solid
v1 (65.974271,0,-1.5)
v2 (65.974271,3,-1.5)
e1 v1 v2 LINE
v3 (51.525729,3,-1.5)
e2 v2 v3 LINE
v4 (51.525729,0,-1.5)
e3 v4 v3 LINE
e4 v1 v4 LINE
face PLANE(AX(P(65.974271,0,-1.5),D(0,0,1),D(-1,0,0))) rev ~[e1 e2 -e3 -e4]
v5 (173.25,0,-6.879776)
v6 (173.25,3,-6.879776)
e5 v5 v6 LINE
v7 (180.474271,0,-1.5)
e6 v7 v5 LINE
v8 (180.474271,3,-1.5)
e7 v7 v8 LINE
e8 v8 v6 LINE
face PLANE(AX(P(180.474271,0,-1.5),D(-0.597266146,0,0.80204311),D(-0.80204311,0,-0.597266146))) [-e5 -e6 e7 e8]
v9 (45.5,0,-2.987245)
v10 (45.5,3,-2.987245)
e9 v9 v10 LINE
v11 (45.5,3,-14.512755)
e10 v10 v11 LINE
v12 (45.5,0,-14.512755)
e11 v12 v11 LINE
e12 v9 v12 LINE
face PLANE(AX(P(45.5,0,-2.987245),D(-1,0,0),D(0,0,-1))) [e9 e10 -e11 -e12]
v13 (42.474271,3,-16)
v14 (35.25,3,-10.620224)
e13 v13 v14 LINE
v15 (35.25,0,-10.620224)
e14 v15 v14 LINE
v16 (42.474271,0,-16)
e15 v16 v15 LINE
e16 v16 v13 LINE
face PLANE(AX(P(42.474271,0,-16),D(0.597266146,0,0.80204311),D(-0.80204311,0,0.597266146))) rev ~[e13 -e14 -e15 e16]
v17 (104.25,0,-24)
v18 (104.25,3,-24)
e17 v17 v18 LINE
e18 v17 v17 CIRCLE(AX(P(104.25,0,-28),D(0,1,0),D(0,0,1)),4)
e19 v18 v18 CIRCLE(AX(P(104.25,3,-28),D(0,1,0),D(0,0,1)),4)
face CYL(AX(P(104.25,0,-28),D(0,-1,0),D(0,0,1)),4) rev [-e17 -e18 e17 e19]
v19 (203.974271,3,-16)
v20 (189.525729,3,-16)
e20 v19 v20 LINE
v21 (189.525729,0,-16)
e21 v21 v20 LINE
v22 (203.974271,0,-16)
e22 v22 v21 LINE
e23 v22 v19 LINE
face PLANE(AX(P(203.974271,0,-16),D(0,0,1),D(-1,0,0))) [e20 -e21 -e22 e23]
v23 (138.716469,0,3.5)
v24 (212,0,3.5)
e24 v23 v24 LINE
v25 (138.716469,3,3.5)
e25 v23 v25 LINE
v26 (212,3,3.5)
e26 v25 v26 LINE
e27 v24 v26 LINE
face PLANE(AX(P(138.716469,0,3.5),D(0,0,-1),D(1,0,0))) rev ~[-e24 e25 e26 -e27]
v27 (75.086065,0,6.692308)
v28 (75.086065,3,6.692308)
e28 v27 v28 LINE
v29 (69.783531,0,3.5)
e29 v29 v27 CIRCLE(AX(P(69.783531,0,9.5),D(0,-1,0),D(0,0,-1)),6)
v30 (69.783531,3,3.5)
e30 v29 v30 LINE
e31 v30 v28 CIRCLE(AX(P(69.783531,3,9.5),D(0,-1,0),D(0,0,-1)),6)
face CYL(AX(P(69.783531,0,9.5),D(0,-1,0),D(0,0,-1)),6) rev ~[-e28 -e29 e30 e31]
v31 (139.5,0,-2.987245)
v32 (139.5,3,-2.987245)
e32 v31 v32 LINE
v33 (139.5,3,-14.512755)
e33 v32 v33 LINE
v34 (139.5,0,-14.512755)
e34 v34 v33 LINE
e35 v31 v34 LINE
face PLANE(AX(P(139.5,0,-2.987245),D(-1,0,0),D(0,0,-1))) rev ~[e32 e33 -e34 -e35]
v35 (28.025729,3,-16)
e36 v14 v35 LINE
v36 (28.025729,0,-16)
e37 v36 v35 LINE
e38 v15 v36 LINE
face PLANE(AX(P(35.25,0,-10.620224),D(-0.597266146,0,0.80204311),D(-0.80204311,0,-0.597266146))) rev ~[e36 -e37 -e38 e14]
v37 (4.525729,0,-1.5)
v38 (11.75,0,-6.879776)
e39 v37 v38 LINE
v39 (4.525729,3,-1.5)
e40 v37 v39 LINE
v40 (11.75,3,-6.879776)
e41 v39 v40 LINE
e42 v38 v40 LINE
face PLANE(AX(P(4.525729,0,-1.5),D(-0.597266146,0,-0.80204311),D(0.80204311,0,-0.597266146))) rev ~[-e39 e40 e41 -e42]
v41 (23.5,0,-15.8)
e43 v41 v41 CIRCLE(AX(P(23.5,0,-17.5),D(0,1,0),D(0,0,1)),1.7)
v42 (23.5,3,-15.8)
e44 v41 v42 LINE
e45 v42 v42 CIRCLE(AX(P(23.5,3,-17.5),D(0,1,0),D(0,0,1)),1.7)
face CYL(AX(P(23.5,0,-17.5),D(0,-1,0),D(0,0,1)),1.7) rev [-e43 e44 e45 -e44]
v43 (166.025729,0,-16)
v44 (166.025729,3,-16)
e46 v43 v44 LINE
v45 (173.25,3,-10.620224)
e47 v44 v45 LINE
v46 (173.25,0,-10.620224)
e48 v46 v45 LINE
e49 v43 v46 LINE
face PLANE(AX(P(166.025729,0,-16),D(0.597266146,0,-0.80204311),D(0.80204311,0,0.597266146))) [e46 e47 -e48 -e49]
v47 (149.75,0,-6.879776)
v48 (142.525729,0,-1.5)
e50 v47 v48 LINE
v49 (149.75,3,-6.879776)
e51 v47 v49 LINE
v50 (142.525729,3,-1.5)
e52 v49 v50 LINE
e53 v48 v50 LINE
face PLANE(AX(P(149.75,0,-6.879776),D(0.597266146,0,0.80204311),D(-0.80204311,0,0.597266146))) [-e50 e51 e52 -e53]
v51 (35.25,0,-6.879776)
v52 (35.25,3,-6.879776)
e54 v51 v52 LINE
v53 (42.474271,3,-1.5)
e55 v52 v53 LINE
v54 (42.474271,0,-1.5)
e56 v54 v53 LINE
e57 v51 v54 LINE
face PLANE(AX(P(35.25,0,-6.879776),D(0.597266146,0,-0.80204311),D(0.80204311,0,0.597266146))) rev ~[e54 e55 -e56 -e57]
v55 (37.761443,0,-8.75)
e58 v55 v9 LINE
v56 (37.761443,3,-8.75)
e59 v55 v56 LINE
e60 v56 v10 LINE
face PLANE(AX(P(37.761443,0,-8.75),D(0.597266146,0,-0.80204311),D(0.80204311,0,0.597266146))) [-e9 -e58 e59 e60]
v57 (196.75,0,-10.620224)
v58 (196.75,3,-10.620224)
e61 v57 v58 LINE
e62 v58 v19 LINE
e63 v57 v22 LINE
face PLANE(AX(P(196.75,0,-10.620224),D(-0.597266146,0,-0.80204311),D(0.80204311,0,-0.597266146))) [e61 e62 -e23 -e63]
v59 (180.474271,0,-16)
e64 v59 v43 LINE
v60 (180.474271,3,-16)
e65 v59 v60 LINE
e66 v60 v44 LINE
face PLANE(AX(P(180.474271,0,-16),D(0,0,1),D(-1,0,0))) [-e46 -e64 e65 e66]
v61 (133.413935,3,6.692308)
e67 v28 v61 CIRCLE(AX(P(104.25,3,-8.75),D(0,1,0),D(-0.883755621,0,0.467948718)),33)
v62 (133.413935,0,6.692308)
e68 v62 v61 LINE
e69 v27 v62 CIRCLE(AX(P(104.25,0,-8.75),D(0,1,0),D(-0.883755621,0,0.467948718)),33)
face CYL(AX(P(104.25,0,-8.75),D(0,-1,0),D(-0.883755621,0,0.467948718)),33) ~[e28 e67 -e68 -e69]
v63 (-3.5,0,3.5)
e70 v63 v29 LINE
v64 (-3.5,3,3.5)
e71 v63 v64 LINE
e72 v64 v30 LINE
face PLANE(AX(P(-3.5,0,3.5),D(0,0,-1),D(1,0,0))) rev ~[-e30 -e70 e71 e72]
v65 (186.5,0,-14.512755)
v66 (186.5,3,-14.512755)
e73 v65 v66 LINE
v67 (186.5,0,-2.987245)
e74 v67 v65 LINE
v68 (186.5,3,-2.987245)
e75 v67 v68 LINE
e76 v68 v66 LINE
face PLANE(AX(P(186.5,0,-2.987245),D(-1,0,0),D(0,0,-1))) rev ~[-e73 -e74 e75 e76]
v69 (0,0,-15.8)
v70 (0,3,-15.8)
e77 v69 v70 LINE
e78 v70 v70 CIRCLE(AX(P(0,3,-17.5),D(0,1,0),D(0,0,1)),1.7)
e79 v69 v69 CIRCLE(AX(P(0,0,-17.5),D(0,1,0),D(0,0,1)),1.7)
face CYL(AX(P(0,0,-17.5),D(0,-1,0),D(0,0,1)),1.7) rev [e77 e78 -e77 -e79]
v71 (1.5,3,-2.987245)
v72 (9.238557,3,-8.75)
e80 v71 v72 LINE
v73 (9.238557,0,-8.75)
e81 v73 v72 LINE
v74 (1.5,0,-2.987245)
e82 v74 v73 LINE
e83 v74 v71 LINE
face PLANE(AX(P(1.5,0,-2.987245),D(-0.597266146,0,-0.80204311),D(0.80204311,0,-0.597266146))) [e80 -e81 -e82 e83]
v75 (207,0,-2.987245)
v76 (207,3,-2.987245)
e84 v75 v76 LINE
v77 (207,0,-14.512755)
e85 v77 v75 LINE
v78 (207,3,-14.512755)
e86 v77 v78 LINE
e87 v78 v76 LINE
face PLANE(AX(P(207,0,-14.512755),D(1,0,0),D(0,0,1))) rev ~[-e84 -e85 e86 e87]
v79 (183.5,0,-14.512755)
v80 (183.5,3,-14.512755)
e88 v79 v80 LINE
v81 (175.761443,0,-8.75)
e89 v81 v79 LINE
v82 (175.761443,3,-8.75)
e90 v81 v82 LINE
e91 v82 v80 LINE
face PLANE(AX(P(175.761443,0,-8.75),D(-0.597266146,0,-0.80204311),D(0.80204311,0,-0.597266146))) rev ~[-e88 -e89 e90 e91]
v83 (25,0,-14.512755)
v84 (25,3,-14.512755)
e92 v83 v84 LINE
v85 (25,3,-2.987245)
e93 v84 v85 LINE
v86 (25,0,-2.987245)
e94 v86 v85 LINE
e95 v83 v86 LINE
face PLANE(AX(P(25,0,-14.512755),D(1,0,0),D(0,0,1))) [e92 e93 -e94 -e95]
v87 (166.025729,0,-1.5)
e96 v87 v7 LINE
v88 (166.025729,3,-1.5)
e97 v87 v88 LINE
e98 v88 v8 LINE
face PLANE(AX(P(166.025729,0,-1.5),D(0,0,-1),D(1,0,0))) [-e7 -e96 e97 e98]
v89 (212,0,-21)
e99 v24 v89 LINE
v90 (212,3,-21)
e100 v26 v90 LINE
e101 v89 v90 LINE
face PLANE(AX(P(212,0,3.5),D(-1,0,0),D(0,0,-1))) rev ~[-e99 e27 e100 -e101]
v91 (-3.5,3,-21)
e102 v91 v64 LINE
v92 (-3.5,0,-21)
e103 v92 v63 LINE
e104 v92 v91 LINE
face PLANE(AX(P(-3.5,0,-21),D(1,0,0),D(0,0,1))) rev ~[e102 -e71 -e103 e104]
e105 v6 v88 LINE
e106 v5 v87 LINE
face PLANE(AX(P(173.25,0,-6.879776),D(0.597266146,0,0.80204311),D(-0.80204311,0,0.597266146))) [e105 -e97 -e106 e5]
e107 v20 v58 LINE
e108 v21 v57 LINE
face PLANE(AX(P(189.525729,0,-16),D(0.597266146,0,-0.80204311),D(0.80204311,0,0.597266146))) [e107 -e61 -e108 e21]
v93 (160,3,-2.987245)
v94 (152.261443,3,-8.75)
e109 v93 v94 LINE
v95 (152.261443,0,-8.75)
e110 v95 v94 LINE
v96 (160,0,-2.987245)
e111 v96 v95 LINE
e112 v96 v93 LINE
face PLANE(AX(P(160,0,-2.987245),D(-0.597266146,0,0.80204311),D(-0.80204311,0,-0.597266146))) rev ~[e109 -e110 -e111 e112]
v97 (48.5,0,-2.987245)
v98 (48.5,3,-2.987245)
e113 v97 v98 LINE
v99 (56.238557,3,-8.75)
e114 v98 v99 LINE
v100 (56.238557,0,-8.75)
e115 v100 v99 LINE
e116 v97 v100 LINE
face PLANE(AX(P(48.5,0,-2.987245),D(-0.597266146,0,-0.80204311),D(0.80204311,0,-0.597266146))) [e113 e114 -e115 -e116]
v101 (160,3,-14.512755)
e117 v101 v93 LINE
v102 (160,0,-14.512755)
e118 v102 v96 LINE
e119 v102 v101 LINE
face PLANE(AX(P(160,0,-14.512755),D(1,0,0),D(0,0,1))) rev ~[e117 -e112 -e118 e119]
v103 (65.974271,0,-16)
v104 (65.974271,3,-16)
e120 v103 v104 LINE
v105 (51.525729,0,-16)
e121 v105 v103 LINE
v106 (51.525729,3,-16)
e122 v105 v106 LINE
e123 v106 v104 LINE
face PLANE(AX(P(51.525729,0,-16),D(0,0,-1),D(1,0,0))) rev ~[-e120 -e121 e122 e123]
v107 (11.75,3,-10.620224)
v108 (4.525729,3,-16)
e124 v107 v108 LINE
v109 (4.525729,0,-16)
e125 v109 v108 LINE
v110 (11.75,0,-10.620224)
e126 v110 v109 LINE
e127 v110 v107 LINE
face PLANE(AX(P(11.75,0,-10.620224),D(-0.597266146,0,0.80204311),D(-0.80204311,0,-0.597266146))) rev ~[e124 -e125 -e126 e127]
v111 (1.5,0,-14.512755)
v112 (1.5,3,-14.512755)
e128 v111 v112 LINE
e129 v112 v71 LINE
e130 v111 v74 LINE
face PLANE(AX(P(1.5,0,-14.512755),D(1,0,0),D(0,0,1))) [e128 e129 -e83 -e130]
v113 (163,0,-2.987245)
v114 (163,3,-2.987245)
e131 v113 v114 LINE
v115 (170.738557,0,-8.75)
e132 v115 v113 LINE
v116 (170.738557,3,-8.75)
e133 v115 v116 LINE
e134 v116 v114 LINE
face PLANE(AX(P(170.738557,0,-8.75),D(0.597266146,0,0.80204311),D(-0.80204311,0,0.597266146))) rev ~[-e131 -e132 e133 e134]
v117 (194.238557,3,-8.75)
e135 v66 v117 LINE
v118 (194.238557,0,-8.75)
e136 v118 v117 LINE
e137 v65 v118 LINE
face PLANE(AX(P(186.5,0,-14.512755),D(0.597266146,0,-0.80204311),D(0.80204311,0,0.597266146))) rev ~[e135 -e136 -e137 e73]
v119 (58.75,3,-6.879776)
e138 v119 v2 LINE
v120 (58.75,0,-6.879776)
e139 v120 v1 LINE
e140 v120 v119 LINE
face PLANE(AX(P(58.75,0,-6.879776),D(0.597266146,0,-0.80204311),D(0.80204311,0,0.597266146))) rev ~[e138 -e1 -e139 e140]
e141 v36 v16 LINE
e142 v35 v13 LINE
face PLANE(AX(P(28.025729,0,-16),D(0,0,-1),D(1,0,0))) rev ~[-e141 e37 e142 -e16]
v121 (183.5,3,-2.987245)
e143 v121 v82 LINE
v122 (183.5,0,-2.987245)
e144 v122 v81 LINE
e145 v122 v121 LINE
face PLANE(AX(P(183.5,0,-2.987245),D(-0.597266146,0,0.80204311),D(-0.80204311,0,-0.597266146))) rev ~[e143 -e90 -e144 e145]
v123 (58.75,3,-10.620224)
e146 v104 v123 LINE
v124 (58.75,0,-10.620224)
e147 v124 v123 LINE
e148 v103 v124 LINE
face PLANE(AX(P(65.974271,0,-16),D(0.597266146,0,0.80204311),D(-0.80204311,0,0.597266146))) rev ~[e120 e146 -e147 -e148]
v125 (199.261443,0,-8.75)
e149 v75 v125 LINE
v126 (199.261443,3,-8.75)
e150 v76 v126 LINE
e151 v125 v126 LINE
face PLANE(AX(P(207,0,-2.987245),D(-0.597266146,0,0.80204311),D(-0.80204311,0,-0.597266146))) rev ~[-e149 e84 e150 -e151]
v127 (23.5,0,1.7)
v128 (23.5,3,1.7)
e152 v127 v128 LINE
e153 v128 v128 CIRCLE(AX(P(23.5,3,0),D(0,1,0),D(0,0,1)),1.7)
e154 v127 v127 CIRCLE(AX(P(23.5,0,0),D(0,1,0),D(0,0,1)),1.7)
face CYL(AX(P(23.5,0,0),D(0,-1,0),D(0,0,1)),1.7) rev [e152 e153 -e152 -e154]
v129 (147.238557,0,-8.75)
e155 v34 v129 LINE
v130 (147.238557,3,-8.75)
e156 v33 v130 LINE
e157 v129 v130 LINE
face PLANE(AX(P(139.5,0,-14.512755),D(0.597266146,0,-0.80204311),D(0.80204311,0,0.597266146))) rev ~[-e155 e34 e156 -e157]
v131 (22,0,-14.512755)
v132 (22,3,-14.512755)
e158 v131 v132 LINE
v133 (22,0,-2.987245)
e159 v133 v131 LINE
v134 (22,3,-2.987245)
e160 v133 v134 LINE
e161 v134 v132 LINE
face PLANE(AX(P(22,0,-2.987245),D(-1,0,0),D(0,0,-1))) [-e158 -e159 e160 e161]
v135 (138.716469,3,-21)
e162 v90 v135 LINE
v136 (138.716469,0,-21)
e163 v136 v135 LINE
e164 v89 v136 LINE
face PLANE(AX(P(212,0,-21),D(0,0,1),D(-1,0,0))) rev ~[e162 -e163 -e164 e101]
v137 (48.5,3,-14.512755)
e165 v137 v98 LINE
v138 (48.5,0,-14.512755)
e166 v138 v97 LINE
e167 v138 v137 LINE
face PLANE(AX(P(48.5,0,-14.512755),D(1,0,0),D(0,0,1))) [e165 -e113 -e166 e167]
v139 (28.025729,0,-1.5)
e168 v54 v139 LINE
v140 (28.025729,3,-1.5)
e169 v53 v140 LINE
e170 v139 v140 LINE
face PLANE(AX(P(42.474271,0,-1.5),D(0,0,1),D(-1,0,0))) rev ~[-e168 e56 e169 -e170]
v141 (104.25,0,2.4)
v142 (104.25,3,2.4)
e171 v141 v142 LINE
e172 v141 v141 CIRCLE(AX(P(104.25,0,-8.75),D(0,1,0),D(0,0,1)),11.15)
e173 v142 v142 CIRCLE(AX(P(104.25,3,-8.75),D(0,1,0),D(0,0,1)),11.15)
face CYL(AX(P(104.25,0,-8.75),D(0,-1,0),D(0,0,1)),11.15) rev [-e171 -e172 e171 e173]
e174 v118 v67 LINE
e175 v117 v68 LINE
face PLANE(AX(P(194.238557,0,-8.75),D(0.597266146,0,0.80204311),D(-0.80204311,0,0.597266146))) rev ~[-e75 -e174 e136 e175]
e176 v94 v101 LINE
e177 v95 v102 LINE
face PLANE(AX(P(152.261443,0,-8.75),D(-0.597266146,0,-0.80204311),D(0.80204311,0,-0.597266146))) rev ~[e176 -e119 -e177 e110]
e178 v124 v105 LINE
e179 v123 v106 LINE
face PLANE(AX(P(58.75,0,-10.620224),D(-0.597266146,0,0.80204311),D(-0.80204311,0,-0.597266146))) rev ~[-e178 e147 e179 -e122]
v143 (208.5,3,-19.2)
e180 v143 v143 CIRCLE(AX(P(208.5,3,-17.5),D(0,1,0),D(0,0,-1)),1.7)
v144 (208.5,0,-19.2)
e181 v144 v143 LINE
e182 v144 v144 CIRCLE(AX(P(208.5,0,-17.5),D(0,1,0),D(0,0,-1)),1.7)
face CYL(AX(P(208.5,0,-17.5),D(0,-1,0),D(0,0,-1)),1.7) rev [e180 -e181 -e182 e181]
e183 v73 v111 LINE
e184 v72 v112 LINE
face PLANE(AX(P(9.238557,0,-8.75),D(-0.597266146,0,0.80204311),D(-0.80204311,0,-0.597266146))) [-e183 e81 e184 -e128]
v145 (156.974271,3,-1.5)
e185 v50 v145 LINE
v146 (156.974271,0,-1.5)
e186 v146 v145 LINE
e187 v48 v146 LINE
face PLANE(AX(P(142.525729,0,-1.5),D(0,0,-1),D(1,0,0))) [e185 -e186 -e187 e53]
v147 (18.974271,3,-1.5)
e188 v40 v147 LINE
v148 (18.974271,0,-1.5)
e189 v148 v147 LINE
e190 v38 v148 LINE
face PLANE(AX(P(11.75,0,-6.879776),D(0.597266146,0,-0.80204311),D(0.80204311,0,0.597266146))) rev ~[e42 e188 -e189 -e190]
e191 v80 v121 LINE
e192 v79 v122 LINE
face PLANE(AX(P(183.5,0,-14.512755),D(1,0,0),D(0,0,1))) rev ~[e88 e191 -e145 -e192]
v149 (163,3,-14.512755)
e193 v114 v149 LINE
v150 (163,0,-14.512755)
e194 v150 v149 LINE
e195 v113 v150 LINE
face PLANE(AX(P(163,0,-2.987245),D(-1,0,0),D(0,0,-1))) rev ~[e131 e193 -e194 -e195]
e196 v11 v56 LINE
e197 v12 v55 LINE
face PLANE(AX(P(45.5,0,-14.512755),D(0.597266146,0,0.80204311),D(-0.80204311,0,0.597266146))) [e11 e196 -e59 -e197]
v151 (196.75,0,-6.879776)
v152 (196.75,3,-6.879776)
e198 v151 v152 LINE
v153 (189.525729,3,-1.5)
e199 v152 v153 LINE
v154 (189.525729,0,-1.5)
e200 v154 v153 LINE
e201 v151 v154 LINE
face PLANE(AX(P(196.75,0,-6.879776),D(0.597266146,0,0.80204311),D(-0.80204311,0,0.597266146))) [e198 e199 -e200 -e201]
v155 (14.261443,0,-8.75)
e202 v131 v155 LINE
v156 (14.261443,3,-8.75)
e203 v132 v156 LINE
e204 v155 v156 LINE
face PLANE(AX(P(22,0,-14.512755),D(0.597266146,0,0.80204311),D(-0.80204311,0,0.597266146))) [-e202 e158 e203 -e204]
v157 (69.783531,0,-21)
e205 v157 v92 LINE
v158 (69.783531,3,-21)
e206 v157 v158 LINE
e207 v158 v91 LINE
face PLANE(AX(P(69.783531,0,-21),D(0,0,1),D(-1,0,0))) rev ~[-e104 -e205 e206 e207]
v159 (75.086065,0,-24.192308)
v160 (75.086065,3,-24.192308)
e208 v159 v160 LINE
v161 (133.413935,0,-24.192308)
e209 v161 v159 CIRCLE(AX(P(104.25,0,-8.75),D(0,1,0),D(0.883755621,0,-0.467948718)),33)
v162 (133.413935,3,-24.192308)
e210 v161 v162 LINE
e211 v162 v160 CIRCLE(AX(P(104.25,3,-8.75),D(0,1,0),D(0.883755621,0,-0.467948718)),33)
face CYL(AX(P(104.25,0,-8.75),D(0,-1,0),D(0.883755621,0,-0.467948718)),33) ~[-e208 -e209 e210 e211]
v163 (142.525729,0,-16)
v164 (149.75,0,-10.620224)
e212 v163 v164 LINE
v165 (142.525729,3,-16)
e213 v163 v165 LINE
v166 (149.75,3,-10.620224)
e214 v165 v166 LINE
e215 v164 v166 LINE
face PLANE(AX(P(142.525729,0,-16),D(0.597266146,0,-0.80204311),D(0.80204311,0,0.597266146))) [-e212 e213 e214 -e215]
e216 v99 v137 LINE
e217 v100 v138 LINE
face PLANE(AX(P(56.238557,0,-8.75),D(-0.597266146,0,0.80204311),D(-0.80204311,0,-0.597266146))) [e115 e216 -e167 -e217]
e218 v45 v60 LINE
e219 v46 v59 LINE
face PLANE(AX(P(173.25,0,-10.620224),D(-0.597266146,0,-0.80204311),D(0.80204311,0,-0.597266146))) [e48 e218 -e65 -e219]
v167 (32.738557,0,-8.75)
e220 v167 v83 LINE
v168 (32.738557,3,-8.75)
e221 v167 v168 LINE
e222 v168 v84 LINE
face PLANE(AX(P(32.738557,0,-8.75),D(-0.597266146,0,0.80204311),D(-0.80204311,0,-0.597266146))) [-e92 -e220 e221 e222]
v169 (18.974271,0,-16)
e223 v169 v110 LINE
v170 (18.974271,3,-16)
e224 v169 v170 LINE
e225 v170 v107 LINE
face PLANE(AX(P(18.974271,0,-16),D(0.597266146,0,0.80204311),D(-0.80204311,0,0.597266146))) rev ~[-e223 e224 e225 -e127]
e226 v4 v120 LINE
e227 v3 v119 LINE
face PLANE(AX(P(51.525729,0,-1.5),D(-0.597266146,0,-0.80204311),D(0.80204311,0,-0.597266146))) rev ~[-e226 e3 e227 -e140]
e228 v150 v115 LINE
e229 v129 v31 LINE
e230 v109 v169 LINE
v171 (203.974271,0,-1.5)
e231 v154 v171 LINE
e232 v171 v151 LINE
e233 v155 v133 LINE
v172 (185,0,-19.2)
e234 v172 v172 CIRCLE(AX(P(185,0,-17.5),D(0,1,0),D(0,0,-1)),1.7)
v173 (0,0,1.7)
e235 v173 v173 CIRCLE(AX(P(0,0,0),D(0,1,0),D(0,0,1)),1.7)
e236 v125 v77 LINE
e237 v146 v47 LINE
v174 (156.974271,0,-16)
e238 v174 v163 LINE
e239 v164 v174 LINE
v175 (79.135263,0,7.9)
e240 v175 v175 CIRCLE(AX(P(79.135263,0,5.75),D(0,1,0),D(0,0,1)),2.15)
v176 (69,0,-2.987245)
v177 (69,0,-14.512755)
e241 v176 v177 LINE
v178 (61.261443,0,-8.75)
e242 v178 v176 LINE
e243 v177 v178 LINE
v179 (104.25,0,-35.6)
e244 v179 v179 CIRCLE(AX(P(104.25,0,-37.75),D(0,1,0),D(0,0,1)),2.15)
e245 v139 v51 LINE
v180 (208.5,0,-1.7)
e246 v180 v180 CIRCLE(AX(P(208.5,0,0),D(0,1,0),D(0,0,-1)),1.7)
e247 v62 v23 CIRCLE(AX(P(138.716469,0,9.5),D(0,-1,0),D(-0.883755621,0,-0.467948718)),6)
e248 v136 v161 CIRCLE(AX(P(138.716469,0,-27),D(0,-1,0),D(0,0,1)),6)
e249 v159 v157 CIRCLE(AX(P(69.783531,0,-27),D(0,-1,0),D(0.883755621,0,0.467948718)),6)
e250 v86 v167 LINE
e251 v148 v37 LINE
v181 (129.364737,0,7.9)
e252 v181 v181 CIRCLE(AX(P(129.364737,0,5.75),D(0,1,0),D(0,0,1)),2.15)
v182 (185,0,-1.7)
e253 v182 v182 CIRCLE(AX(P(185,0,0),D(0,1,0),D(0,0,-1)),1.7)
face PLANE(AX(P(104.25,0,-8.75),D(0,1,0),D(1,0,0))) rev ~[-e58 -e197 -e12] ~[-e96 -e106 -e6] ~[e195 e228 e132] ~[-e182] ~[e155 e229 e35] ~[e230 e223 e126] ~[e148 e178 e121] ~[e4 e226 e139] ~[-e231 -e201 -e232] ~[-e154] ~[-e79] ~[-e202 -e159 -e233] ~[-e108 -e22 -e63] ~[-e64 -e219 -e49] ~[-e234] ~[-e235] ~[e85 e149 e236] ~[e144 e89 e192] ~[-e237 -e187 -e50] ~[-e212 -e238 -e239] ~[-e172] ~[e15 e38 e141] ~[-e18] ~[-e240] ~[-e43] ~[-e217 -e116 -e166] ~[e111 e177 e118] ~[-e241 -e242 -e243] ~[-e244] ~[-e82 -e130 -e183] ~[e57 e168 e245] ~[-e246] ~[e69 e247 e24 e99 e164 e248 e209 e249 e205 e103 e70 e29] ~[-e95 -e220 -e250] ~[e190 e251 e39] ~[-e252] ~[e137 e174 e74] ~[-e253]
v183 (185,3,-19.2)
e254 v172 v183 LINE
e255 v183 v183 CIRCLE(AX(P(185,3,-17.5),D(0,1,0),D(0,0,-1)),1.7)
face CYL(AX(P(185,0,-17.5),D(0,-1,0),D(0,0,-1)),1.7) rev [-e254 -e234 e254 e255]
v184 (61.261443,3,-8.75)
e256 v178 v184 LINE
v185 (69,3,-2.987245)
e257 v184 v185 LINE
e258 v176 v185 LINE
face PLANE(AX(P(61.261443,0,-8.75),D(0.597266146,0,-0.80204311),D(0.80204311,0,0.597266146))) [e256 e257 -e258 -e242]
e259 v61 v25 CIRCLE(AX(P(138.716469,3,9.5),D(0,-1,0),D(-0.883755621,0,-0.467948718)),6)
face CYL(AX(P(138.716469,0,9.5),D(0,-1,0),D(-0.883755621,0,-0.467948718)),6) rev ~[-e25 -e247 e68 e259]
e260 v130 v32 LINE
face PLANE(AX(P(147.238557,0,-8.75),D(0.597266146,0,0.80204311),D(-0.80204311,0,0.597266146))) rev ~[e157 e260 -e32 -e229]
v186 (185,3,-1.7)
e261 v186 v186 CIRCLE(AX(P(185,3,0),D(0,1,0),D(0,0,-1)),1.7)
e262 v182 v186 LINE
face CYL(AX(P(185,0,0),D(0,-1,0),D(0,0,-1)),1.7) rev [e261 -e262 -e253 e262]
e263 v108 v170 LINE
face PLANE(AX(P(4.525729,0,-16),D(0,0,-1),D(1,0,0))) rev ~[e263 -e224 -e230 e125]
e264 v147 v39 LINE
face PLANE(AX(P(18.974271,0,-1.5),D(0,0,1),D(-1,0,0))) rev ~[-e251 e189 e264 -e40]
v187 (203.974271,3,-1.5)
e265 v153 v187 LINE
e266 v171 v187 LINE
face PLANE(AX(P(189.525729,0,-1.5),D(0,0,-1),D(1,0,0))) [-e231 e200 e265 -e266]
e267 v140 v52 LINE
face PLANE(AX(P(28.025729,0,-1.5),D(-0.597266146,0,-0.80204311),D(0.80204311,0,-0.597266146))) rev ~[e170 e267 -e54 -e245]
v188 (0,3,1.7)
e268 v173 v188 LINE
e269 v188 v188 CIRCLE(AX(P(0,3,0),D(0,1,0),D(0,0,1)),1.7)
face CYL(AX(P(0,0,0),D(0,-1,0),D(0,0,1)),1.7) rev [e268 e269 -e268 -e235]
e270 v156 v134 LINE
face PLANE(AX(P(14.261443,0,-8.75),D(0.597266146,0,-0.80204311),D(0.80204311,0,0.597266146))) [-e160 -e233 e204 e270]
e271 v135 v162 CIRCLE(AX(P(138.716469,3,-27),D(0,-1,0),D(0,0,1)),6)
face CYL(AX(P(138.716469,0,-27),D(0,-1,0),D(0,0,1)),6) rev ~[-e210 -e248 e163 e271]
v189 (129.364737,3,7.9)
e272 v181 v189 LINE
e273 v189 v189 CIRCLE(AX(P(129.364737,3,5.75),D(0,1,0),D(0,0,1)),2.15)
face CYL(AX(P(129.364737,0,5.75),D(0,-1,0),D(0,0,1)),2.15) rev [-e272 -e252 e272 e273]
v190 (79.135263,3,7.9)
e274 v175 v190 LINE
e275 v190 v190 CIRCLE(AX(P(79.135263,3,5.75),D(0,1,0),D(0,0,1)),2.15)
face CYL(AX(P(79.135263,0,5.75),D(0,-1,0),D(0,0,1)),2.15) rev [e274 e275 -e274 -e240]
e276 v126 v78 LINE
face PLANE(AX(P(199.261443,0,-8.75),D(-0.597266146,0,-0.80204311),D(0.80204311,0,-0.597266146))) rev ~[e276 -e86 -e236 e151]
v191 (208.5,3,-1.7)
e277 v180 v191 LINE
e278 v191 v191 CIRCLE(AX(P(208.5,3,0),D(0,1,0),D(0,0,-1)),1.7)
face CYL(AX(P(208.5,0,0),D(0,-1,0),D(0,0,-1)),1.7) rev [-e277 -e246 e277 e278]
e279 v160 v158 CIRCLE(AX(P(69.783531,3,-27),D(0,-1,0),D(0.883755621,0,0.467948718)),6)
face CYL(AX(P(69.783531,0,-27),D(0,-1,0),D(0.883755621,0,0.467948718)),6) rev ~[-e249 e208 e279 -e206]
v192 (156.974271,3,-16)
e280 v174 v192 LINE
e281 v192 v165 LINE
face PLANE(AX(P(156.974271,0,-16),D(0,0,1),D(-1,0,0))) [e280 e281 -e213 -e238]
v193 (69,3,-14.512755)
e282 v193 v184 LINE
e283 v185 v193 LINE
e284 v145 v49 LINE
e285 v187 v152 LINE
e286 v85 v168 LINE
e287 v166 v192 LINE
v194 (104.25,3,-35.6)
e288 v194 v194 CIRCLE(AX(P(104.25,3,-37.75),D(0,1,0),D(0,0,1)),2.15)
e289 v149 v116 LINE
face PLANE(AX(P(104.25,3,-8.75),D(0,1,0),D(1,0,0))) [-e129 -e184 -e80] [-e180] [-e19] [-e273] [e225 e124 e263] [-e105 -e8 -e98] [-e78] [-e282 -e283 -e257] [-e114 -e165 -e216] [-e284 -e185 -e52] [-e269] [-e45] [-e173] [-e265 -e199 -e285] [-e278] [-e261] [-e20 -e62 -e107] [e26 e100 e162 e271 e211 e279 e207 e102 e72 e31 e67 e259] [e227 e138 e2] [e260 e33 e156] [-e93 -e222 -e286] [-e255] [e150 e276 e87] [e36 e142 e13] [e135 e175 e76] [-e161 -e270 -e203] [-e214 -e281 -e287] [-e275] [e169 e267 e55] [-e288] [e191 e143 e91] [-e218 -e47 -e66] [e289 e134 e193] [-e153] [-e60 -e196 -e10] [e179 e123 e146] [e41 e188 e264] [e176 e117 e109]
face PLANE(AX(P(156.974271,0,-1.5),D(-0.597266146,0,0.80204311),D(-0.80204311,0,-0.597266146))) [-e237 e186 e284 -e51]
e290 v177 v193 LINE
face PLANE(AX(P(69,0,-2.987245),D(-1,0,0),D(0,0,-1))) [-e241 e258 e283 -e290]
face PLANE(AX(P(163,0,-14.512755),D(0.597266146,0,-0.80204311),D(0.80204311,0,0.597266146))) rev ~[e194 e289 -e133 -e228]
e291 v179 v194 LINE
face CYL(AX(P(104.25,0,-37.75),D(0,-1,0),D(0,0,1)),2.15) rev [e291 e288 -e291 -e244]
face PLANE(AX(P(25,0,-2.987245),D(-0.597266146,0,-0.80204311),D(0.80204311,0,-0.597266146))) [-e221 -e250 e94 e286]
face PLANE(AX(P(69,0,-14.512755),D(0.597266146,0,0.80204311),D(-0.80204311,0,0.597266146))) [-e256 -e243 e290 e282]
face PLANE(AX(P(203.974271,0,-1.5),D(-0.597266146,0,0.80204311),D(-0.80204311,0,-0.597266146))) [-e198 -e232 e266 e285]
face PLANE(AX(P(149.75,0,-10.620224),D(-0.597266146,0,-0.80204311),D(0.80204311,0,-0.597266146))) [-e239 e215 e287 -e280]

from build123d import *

# Parameters (mm, degrees)
SKETCH_2_R      = 1.7
SKETCH_2_R_2    = 11.15
SKETCH_2_R_3    = 4
SKETCH_2_R_4    = 2.15
EXTRUDE_1_DEPTH = 3


with BuildPart() as part:
    # 草图2 → 凸台-拉伸1 (new body)
    with BuildSketch(Plane(origin=(0, 0, 0), x_dir=(1, 0, 0), z_dir=(0, 1, 0))):
        with BuildLine():
            Line((-3.5, -3.5), (69.783530787, -3.5))
            ThreePointArc((69.783530787, -3.5), (72.878191201, -4.359661789), (75.086064512, -6.692307692))
            ThreePointArc((75.086064512, -6.692307692), (104.25, -24.25), (133.413935488, -6.692307692))
            ThreePointArc((133.413935488, -6.692307692), (135.621808799, -4.359661789), (138.716469213, -3.5))
            Line((138.716469213, -3.5), (212, -3.5))
            Line((212, -3.5), (212, 21))
            Line((212, 21), (138.716469213, 21))
            ThreePointArc((138.716469213, 21), (135.621808799, 21.859661789), (133.413935488, 24.192307692))
            ThreePointArc((133.413935488, 24.192307692), (104.25, 41.75), (75.086064512, 24.192307692))
            ThreePointArc((75.086064512, 24.192307692), (72.878191201, 21.859661789), (69.783530787, 21))
            Line((69.783530787, 21), (-3.5, 21))
            Line((-3.5, 21), (-3.5, -3.5))
        make_face()
        with Locations(Location((0, 17.5, 0), (0, 0, 270))):
            Circle(SKETCH_2_R, mode=Mode.SUBTRACT)
        with Locations(Location((23.5, 17.5, 0), (0, 0, 270))):
            Circle(SKETCH_2_R, mode=Mode.SUBTRACT)
        with Locations(Location((0, 0, 0), (0, 0, 270))):
            Circle(SKETCH_2_R, mode=Mode.SUBTRACT)
        with Locations(Location((23.5, 0, 0), (0, 0, 270))):
            Circle(SKETCH_2_R, mode=Mode.SUBTRACT)
        with Locations(Location((104.25, 8.75, 0), (0, 0, 270))):
            Circle(SKETCH_2_R_2, mode=Mode.SUBTRACT)
        with Locations(Location((104.25, 28, 0), (0, 0, 270))):
            Circle(SKETCH_2_R_3, mode=Mode.SUBTRACT)
        with Locations(Location((104.25, 37.75, 0), (0, 0, 270))):
            Circle(SKETCH_2_R_4, mode=Mode.SUBTRACT)
        with Locations(Location((185, 0, 0), (0, 0, 90))):
            Circle(SKETCH_2_R, mode=Mode.SUBTRACT)
        with Locations(Location((208.5, 0, 0), (0, 0, 90))):
            Circle(SKETCH_2_R, mode=Mode.SUBTRACT)
        with Locations(Location((208.5, 17.5, 0), (0, 0, 90))):
            Circle(SKETCH_2_R, mode=Mode.SUBTRACT)
        with Locations(Location((185, 17.5, 0), (0, 0, 90))):
            Circle(SKETCH_2_R, mode=Mode.SUBTRACT)
        with Locations(Location((129.36473671, -5.75, 0), (0, 0, 270))):
            Circle(SKETCH_2_R_4, mode=Mode.SUBTRACT)
        with Locations(Location((79.13526329, -5.75, 0), (0, 0, 270))):
            Circle(SKETCH_2_R_4, mode=Mode.SUBTRACT)
        Polygon((4.525728913, 16), (18.974271087, 16), (11.75, 10.620223658), align=None, mode=Mode.SUBTRACT)
        Polygon((1.5, 14.512755065), (1.5, 2.987244935), (9.238556802, 8.75), align=None, mode=Mode.SUBTRACT)
        Polygon((189.525728913, 16), (196.75, 10.620223658), (203.974271087, 16), align=None, mode=Mode.SUBTRACT)
        Polygon((207, 2.987244935), (199.261443198, 8.75), (207, 14.512755065), align=None, mode=Mode.SUBTRACT)
        Polygon((14.261443198, 8.75), (22, 2.987244935), (22, 14.512755065), align=None, mode=Mode.SUBTRACT)
        Polygon((11.75, 6.879776342), (18.974271087, 1.5), (4.525728913, 1.5), align=None, mode=Mode.SUBTRACT)
        Polygon((42.474271087, 1.5), (28.025728913, 1.5), (35.25, 6.879776342), align=None, mode=Mode.SUBTRACT)
        Polygon((32.738556802, 8.75), (25, 14.512755065), (25, 2.987244935), align=None, mode=Mode.SUBTRACT)
        Polygon((35.25, 10.620223658), (28.025728913, 16), (42.474271087, 16), align=None, mode=Mode.SUBTRACT)
        Polygon((45.5, 14.512755065), (37.761443198, 8.75), (45.5, 2.987244935), align=None, mode=Mode.SUBTRACT)
        Polygon((51.525728913, 16), (65.974271087, 16), (58.75, 10.620223658), align=None, mode=Mode.SUBTRACT)
        Polygon((51.525728913, 1.5), (58.75, 6.879776342), (65.974271087, 1.5), align=None, mode=Mode.SUBTRACT)
        Polygon((61.261443198, 8.75), (69, 2.987244935), (69, 14.512755065), align=None, mode=Mode.SUBTRACT)
        Polygon((56.238556802, 8.75), (48.5, 14.512755065), (48.5, 2.987244935), align=None, mode=Mode.SUBTRACT)
        Polygon((142.525728913, 1.5), (156.974271087, 1.5), (149.75, 6.879776342), align=None, mode=Mode.SUBTRACT)
        Polygon((139.5, 14.512755065), (147.238556802, 8.75), (139.5, 2.987244935), align=None, mode=Mode.SUBTRACT)
        Polygon((149.75, 10.620223658), (156.974271087, 16), (142.525728913, 16), align=None, mode=Mode.SUBTRACT)
        Polygon((160, 2.987244935), (152.261443198, 8.75), (160, 14.512755065), align=None, mode=Mode.SUBTRACT)
        Polygon((173.25, 6.879776342), (166.025728913, 1.5), (180.474271087, 1.5), align=None, mode=Mode.SUBTRACT)
        Polygon((163, 2.987244935), (163, 14.512755065), (170.738556802, 8.75), align=None, mode=Mode.SUBTRACT)
        Polygon((166.025728913, 16), (173.25, 10.620223658), (180.474271087, 16), align=None, mode=Mode.SUBTRACT)
        Polygon((183.5, 2.987244935), (175.761443198, 8.75), (183.5, 14.512755065), align=None, mode=Mode.SUBTRACT)
        Polygon((186.5, 2.987244935), (186.5, 14.512755065), (194.238556802, 8.75), align=None, mode=Mode.SUBTRACT)
        Polygon((189.525728913, 1.5), (203.974271087, 1.5), (196.75, 6.879776342), align=None, mode=Mode.SUBTRACT)
    extrude(amount=EXTRUDE_1_DEPTH)


solid = part.part
